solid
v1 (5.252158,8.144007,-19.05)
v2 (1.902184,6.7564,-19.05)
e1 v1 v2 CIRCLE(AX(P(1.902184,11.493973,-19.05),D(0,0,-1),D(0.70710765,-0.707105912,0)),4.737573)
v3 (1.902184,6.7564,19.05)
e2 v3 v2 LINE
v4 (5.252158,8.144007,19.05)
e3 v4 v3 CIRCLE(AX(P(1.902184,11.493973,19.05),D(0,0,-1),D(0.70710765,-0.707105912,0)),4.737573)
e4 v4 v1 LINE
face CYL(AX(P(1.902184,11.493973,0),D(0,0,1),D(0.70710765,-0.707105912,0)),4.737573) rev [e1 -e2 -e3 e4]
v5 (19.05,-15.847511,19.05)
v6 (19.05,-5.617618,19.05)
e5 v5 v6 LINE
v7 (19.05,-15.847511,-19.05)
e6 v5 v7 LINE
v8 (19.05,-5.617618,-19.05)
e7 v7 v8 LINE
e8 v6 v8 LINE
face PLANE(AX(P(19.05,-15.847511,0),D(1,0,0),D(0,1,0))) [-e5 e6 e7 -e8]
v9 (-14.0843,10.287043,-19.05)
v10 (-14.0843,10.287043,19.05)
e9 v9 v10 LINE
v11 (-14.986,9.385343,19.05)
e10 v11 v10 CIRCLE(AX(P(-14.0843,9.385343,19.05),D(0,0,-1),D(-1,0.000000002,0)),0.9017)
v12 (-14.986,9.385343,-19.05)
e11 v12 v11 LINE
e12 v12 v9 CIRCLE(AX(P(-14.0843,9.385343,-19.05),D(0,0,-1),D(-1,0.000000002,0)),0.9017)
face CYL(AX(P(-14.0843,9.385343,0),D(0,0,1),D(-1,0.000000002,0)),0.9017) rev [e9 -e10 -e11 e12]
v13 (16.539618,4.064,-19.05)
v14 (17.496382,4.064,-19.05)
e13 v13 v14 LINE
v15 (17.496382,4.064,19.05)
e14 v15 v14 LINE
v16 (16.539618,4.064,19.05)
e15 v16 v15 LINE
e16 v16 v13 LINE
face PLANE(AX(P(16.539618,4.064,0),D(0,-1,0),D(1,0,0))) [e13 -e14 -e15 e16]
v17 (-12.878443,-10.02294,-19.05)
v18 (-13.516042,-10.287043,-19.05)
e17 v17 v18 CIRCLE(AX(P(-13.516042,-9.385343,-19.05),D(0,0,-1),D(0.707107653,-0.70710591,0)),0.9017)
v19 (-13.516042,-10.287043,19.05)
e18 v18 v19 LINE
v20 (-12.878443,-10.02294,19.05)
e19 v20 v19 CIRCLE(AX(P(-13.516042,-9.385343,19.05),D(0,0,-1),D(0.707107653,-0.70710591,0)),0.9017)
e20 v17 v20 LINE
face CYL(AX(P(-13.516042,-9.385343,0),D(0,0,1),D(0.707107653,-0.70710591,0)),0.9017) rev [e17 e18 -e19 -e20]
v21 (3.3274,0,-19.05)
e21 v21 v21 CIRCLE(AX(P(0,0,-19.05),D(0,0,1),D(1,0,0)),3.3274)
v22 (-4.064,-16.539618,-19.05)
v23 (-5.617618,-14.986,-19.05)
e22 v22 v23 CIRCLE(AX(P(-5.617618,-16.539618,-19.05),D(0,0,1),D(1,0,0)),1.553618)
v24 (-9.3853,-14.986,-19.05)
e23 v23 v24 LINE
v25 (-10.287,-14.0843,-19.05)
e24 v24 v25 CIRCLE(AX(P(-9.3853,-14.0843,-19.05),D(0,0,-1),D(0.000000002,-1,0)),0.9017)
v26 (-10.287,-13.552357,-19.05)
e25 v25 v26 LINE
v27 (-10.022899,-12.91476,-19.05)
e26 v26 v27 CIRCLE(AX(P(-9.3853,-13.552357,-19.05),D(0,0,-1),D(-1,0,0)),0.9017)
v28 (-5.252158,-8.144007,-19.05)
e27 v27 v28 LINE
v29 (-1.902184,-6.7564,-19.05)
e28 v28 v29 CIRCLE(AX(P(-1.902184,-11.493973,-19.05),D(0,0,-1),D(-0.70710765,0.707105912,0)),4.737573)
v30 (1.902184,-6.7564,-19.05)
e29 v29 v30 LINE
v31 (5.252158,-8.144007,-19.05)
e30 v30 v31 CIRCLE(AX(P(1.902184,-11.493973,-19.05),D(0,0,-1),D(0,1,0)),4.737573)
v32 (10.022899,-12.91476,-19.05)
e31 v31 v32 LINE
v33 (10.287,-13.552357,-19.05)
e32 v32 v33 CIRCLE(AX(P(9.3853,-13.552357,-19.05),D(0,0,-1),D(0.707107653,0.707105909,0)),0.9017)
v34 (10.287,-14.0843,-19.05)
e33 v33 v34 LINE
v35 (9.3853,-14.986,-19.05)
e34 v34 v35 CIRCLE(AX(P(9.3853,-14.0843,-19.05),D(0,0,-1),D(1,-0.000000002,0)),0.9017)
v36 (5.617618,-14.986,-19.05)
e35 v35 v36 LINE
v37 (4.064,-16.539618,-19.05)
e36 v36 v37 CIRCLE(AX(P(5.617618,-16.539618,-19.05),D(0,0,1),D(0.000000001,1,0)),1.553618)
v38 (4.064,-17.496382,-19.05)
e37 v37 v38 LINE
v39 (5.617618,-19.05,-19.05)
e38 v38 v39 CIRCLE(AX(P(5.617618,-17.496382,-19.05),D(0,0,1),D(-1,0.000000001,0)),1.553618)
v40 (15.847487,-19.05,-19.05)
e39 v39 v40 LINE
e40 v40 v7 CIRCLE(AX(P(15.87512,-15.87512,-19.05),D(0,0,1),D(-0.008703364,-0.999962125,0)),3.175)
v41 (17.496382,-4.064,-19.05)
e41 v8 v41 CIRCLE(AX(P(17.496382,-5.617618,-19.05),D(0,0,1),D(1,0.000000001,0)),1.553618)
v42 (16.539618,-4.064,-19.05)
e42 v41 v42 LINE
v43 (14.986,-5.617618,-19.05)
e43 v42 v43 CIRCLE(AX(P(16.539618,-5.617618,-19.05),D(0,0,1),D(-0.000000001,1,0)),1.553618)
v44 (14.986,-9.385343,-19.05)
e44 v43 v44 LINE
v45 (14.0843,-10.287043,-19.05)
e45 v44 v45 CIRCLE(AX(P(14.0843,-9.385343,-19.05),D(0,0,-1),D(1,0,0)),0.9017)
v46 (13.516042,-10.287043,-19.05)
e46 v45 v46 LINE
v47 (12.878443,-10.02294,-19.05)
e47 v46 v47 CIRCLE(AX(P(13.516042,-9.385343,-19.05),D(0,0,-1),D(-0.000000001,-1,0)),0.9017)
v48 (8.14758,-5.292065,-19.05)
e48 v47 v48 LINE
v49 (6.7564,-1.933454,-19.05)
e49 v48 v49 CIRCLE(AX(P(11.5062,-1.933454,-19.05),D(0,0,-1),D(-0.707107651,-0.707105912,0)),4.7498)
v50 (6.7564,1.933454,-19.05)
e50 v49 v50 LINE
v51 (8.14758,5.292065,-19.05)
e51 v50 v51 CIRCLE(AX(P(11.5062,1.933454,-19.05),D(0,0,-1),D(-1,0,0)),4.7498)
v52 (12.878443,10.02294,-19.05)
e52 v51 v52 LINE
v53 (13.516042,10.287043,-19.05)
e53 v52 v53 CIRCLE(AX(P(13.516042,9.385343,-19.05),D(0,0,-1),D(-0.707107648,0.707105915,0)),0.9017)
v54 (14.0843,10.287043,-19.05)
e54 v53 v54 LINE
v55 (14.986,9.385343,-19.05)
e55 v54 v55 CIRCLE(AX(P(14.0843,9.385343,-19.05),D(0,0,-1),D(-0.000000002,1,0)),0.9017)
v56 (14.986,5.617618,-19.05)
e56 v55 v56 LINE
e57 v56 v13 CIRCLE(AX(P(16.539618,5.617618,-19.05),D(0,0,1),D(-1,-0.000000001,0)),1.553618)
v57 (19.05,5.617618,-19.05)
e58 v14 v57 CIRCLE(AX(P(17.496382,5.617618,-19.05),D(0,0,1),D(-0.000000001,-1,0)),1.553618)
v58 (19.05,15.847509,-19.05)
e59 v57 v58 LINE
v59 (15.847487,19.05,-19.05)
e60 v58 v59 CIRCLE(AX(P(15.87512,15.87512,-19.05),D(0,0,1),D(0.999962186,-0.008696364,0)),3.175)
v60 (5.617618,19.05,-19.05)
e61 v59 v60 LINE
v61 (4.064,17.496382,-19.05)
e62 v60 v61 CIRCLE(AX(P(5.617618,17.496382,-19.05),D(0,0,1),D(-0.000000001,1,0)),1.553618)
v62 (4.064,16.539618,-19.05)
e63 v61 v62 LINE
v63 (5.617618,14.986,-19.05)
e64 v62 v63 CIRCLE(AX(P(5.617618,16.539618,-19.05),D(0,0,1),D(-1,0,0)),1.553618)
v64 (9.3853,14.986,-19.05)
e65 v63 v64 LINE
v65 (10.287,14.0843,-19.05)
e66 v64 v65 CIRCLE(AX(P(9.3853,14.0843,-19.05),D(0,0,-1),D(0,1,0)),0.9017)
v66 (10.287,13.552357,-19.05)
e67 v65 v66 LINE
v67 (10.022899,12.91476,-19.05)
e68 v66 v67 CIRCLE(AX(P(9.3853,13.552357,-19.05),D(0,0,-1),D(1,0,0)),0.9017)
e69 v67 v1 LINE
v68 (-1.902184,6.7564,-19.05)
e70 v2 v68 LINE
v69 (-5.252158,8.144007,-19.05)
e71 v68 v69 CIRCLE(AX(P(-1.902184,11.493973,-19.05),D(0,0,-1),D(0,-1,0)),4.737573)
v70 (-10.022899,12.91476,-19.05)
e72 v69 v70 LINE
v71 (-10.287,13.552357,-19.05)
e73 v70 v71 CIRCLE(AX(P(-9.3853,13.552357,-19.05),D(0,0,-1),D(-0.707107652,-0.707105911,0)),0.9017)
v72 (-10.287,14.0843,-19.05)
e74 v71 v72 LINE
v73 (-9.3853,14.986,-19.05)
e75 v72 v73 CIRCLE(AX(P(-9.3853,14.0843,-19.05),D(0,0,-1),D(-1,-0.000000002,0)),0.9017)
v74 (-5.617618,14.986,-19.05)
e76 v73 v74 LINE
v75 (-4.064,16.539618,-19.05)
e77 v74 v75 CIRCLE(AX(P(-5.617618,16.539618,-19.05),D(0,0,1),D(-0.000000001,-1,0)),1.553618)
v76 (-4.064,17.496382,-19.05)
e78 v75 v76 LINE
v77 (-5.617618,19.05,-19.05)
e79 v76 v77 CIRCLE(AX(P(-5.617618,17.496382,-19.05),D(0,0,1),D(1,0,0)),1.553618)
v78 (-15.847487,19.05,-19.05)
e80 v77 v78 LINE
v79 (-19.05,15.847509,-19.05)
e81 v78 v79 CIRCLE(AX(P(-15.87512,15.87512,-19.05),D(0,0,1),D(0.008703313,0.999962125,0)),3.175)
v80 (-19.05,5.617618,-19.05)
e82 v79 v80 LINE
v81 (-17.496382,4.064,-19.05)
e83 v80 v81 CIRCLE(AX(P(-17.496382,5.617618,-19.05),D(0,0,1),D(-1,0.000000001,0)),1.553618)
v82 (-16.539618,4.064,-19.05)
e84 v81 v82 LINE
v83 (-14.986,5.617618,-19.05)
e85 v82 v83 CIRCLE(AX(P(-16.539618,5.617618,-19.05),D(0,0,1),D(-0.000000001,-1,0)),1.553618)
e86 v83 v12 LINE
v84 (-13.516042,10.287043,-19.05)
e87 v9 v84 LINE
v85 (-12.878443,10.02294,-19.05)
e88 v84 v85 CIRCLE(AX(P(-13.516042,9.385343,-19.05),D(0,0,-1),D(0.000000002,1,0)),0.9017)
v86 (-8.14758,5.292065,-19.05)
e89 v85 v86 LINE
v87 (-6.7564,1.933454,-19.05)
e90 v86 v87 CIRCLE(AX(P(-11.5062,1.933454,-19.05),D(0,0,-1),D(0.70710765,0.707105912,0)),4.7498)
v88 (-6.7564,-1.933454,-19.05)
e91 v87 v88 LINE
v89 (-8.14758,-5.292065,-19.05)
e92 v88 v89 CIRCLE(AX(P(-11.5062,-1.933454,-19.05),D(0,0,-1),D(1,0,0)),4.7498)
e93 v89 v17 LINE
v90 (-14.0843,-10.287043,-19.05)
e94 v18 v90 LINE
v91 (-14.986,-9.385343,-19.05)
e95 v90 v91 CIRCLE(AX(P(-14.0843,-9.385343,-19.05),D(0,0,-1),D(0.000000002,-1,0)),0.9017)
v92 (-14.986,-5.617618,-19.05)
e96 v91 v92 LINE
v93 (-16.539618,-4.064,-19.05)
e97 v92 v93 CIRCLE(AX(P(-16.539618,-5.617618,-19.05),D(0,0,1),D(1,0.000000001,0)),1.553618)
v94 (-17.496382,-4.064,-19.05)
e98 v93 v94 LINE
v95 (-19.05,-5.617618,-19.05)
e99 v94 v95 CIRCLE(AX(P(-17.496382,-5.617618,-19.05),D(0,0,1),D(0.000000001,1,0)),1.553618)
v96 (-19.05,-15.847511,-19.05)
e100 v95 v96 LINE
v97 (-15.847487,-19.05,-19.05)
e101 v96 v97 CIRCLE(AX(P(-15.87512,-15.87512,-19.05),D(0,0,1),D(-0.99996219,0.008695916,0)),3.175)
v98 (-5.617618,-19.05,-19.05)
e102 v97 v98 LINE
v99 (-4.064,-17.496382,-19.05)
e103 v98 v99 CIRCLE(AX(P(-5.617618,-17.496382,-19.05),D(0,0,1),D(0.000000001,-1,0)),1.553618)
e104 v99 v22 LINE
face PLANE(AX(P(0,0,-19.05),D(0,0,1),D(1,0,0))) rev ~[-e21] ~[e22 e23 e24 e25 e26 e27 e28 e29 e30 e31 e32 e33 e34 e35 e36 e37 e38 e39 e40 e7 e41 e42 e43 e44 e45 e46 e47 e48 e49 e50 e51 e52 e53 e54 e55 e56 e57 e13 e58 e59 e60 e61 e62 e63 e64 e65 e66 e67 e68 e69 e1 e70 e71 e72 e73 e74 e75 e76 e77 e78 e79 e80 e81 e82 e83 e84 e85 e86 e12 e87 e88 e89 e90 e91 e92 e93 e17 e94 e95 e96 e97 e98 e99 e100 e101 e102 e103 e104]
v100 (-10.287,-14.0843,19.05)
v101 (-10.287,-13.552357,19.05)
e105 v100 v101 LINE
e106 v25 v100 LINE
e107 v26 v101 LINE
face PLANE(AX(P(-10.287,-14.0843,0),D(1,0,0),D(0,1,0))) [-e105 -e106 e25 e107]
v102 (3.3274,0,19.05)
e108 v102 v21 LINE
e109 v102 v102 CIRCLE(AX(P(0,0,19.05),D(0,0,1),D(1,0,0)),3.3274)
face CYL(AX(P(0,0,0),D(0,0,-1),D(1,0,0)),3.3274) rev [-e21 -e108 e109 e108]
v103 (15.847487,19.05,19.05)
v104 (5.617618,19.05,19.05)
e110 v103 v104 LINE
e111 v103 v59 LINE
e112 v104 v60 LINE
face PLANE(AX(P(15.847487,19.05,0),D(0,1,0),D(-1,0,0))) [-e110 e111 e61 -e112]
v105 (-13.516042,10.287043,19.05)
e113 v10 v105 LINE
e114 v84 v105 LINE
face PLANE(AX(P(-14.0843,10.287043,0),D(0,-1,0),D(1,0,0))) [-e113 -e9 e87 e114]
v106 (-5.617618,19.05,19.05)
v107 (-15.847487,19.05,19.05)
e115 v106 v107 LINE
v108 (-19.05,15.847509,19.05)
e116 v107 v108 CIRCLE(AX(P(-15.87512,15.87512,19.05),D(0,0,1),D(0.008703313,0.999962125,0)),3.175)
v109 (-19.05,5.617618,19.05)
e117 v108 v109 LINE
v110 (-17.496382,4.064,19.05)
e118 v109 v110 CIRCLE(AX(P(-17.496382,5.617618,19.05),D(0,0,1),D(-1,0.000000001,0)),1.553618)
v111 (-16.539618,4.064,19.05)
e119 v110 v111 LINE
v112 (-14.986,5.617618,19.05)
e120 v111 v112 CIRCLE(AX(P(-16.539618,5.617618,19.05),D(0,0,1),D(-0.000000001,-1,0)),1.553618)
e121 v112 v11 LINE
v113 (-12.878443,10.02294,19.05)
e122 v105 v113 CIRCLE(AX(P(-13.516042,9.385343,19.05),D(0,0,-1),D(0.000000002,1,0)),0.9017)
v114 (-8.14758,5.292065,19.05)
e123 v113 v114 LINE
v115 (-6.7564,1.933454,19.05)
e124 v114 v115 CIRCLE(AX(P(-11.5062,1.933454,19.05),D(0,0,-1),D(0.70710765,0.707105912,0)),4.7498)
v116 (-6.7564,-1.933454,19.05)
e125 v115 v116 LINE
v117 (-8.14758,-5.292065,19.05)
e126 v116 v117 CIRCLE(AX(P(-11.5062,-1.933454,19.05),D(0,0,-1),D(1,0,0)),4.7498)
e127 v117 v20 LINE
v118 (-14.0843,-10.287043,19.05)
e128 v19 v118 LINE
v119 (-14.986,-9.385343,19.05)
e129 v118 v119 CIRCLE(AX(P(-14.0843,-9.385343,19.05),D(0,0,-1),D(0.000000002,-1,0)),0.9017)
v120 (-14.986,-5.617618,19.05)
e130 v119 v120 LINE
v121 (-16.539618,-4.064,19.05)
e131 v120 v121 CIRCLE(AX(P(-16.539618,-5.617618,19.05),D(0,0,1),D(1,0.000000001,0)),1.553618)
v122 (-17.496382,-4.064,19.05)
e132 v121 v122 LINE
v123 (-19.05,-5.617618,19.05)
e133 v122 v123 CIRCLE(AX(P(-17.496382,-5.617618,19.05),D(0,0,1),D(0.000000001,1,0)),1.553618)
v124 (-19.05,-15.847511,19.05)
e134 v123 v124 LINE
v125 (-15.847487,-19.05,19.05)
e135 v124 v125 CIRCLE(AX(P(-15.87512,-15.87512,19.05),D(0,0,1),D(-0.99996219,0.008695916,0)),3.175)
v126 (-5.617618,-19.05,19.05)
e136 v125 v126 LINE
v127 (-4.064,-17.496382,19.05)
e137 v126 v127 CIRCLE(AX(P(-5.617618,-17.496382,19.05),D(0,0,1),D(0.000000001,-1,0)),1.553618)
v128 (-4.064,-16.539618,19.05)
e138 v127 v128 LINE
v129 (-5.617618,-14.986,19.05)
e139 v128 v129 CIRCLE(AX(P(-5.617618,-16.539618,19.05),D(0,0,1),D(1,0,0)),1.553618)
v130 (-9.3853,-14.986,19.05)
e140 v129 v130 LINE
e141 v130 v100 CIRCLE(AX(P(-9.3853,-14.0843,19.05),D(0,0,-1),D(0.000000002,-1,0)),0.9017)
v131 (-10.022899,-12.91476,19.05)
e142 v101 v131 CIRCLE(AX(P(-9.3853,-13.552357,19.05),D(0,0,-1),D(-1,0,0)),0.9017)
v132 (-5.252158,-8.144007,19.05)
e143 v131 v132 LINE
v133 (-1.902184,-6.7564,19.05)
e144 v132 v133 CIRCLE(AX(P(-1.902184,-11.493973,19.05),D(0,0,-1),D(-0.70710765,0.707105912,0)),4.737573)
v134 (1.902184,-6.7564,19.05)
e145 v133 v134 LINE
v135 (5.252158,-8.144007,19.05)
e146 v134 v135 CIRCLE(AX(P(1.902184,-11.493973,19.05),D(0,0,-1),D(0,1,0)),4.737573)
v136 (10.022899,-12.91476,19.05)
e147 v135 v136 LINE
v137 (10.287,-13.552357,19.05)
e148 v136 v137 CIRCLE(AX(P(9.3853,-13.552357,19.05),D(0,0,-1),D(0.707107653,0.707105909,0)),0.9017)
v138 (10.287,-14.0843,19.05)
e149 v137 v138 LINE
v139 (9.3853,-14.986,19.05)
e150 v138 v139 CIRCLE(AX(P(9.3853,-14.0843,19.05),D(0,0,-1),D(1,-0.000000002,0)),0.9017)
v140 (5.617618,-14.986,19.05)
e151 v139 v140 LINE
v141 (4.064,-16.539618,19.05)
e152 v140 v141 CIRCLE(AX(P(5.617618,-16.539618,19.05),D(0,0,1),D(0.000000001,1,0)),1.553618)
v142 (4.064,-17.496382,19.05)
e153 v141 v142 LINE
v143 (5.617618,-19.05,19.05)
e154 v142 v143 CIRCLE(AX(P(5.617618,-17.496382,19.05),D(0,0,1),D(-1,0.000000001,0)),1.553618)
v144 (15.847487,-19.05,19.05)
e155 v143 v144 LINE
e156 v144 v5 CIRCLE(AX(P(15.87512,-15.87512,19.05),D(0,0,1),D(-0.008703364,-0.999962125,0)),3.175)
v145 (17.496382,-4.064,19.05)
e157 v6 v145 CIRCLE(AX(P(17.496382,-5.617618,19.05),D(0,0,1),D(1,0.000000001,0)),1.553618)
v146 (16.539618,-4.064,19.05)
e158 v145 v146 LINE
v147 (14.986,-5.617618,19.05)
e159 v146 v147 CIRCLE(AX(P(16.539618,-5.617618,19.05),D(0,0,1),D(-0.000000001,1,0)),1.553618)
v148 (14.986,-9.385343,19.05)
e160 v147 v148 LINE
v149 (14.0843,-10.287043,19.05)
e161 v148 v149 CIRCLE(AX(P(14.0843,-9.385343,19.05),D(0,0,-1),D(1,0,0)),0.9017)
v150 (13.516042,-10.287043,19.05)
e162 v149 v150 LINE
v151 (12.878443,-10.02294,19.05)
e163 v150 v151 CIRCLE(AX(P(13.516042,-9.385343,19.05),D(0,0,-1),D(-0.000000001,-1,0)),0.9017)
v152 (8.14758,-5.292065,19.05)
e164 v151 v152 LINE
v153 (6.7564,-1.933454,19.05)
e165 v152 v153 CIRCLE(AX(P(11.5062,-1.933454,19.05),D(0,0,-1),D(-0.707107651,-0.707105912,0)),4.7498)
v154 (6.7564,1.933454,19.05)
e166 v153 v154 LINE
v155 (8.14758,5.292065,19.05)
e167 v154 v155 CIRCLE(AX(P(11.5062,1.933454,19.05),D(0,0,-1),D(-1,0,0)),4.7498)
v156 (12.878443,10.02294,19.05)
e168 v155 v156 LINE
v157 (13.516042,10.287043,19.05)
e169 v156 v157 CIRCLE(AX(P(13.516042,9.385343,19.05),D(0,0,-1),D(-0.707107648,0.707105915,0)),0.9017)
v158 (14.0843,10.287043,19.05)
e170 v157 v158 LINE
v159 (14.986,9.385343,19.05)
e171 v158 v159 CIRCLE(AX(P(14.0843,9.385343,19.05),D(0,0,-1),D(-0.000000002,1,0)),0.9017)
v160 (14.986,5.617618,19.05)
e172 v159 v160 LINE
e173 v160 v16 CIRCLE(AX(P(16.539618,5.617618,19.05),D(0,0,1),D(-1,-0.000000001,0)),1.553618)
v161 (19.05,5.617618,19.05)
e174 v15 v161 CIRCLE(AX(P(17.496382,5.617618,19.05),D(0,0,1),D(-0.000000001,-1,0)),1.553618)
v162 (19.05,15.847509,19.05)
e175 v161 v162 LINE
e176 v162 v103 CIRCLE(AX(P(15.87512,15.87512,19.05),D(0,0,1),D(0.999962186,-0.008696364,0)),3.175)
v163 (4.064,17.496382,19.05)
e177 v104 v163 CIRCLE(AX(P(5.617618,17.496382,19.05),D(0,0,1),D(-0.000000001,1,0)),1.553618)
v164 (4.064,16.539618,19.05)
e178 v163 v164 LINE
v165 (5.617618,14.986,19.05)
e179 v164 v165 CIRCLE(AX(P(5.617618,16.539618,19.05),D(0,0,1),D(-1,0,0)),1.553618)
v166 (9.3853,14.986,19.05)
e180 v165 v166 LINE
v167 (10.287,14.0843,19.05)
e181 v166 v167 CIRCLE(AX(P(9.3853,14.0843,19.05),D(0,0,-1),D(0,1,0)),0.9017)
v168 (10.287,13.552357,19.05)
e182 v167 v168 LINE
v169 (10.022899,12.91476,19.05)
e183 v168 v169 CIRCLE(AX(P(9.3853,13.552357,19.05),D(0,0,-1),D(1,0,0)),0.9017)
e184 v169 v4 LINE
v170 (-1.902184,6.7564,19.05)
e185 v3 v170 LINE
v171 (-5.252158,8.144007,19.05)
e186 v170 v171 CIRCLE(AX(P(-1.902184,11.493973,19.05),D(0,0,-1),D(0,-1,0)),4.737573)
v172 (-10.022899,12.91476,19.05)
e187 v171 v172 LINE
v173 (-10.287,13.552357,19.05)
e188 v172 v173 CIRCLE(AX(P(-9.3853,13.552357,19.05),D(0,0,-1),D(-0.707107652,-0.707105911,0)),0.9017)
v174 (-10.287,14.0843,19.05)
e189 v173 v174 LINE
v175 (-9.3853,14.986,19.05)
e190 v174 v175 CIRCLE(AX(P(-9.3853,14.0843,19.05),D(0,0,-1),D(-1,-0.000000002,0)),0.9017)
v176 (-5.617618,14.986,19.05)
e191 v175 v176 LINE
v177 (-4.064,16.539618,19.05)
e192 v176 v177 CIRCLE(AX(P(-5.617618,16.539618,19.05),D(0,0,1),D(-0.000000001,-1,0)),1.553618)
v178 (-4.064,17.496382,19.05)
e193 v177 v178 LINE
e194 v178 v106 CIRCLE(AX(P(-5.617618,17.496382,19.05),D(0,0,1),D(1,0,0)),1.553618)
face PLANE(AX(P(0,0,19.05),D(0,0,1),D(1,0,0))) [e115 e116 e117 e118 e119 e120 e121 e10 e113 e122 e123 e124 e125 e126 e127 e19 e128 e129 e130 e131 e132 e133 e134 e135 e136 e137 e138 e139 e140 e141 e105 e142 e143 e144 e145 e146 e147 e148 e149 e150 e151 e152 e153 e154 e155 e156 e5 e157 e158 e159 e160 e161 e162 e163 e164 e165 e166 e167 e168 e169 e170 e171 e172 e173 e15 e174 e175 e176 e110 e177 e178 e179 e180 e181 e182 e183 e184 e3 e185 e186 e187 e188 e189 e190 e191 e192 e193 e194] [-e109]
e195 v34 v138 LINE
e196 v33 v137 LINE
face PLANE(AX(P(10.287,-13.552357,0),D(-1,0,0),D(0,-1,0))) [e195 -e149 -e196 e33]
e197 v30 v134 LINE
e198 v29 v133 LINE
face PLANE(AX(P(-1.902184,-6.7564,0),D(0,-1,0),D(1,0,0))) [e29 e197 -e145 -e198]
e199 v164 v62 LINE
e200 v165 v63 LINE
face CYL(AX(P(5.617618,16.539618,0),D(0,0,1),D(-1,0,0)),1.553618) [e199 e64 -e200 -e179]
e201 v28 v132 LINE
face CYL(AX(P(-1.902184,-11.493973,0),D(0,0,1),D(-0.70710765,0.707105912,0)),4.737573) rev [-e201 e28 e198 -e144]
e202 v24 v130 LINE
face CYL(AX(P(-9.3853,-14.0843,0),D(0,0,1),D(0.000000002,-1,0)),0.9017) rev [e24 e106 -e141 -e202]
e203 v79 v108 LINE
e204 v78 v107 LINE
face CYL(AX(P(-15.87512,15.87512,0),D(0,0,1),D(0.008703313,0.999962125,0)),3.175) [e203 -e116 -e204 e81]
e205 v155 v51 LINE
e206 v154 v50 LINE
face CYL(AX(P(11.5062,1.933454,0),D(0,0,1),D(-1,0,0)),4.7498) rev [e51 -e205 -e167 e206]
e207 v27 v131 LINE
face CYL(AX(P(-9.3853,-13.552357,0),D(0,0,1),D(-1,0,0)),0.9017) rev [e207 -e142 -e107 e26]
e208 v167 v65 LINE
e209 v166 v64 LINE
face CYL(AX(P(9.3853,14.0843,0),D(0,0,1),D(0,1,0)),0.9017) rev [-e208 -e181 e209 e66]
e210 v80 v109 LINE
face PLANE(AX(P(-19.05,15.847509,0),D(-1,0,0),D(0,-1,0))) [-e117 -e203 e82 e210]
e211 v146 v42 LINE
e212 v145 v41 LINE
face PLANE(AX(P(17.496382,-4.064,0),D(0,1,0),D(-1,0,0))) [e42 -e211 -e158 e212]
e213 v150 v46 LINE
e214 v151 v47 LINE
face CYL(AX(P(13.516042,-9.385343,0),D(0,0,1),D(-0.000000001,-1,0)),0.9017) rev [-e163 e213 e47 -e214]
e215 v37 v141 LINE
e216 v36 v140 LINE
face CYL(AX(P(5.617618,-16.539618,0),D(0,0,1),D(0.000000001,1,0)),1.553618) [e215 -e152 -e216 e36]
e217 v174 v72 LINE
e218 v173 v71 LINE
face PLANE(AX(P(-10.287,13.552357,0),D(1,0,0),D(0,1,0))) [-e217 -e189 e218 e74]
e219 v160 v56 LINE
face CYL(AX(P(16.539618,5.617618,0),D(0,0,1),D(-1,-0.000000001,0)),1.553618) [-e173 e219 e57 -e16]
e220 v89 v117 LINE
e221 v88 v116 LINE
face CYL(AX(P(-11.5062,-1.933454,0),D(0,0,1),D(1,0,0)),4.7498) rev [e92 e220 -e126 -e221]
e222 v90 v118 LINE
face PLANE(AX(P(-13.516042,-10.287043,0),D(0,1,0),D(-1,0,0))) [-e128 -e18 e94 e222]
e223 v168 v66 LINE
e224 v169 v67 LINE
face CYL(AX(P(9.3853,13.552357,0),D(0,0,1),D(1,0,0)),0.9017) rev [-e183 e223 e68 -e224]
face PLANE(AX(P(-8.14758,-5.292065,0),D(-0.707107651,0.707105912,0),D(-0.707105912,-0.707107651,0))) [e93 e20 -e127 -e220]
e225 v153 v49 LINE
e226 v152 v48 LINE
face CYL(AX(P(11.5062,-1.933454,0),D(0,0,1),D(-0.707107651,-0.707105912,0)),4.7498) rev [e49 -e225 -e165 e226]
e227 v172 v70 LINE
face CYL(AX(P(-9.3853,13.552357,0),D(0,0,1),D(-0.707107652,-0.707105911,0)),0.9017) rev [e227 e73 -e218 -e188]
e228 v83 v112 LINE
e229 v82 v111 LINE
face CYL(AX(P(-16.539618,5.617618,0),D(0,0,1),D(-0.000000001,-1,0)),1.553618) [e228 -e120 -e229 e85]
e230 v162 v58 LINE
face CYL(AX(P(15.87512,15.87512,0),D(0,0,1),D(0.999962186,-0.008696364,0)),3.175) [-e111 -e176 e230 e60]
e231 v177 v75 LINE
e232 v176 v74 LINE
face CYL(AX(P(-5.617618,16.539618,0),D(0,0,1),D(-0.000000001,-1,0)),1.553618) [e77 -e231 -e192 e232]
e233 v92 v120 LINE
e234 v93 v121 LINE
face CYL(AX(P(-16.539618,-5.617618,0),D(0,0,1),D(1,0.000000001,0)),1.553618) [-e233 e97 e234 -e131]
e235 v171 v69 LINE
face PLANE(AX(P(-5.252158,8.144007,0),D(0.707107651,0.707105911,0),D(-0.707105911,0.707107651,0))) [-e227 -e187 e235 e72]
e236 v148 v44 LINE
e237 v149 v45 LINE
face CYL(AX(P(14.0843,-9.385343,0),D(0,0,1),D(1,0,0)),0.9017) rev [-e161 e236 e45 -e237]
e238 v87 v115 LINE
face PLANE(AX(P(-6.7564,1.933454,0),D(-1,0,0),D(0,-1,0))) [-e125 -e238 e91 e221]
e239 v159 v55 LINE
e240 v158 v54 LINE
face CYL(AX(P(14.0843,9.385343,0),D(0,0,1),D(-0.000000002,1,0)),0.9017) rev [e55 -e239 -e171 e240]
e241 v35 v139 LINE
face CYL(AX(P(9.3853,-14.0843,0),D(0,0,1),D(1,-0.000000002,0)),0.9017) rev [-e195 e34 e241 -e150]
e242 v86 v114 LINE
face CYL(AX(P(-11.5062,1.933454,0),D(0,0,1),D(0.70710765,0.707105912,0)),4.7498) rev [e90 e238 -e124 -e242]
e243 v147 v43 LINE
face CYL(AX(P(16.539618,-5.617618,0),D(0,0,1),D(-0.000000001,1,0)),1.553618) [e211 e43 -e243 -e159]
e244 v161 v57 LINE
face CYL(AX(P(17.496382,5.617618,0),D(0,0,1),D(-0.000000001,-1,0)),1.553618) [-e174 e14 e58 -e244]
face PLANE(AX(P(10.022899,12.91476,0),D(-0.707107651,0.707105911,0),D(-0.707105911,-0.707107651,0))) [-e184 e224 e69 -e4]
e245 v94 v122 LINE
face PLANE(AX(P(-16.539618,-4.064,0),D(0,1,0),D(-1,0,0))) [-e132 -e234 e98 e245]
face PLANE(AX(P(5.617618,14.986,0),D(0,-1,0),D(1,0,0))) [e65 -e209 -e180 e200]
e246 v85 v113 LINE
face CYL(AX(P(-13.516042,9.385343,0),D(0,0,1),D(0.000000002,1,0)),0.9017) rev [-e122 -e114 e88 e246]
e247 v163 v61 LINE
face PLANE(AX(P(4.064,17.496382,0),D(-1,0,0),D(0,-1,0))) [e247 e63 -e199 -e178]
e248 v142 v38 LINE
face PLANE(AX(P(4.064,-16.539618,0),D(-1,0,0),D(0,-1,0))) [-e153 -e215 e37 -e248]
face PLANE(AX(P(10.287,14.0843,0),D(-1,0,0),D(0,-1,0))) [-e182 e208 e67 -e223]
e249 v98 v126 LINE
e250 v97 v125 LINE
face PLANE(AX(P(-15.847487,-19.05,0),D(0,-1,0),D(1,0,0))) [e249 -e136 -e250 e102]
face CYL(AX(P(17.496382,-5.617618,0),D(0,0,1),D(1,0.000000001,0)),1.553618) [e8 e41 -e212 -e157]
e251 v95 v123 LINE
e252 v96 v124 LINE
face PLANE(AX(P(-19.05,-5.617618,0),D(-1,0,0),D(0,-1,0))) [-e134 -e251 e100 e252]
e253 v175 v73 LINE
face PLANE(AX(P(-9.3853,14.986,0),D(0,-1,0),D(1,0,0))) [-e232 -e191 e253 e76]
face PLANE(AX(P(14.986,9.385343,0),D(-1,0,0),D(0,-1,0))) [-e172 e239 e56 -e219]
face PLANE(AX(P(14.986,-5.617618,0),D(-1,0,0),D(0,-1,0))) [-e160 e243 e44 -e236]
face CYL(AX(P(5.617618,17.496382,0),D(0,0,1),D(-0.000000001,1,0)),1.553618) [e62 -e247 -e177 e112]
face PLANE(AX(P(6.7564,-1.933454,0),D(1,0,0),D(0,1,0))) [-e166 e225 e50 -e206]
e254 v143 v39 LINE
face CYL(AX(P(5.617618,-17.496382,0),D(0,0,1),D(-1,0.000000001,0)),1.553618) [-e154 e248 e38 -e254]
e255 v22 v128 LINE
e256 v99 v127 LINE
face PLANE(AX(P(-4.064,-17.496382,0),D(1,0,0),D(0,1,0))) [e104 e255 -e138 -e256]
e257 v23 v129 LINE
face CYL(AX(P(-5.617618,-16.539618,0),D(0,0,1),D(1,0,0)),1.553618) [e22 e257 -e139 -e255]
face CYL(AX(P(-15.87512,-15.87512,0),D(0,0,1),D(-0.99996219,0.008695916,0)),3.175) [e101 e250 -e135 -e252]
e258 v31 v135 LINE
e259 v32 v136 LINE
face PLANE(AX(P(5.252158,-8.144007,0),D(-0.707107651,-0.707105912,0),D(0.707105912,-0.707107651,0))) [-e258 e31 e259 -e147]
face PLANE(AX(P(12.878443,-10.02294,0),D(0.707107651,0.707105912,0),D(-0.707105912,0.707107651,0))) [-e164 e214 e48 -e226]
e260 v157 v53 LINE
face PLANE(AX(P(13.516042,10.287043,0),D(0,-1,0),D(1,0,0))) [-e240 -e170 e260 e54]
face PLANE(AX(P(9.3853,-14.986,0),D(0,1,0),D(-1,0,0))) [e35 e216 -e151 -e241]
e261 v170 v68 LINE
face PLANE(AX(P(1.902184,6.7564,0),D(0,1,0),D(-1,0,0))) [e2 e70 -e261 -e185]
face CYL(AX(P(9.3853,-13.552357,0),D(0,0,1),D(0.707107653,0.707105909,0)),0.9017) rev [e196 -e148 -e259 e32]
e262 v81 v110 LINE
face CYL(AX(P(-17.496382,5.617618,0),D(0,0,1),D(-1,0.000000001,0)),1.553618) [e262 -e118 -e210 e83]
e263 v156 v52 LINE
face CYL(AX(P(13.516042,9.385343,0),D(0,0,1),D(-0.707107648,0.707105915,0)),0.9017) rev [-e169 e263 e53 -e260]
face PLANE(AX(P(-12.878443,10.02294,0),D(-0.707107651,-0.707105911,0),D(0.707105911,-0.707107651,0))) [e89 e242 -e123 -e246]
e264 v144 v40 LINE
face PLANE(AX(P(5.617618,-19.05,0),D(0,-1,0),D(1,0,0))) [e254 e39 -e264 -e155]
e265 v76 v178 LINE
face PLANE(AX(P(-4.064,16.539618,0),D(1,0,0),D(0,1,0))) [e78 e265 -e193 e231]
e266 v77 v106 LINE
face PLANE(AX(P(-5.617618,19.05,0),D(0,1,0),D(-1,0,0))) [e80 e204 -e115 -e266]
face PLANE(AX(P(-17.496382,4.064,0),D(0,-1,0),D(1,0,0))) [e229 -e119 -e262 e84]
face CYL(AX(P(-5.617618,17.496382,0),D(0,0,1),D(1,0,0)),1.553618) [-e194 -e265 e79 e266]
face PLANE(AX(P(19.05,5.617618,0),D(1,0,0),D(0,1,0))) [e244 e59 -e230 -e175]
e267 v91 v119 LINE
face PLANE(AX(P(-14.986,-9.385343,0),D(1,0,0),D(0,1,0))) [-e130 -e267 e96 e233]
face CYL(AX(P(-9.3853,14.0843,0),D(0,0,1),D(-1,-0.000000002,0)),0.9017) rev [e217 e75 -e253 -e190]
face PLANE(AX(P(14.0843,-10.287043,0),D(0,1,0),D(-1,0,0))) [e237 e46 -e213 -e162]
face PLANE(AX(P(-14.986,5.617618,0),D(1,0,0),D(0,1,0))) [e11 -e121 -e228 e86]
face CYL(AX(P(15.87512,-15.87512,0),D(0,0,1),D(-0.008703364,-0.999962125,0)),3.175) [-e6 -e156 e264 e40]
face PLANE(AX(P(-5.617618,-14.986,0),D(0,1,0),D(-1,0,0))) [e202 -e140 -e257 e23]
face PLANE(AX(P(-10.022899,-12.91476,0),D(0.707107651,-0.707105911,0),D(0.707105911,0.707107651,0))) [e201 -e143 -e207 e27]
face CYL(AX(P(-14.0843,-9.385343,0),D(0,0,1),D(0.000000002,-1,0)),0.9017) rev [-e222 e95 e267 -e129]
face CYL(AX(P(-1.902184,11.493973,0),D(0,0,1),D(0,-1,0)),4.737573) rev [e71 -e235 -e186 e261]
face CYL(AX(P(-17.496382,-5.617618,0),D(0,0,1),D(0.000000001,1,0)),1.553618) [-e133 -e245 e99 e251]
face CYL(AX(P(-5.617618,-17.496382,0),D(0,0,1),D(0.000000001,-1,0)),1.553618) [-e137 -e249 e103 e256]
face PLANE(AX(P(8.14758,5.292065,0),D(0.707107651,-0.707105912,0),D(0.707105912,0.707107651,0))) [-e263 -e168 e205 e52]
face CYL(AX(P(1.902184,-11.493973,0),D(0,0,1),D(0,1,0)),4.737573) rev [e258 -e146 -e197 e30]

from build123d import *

# Parameters (mm, degrees)
SKETCH1_R           = 3.3274
BOSS_EXTRUDE1_DEPTH = 19.05


with BuildPart() as part:
    # Sketch1 → Boss-Extrude1 (new body, symmetric)
    with BuildSketch(Plane.XY):
        with BuildLine():
            Line((-4.064, 16.539617552), (-4.064, 17.496382454))
            ThreePointArc((-4.064, 17.496382454), (-4.519044044, 18.594955958), (-5.617617547, 19.050000004))
            Line((-5.617617547, 19.050000004), (-15.84748704, 19.050000004))
            ThreePointArc((-15.84748704, 19.050000004), (-18.12017629, 18.120192086), (-19.050000001, 15.847509297))
            Line((-19.050000001, 15.847509297), (-19.050000001, 5.617617549))
            ThreePointArc((-19.050000001, 5.617617549), (-18.594955957, 4.519044045), (-17.496382454, 4.064))
            Line((-17.496382454, 4.064), (-16.539617549, 4.064))
            ThreePointArc((-16.539617549, 4.064), (-15.441044044, 4.519044045), (-14.986, 5.617617549))
            Line((-14.986, 5.617617549), (-14.986, 9.385342517))
            ThreePointArc((-14.986, 9.385342517), (-14.721898184, 10.022940701), (-14.0843, 10.287042517))
            Line((-14.0843, 10.287042517), (-13.516042086, 10.287042517))
            ThreePointArc((-13.516042086, 10.287042517), (-13.170975923, 10.218404479), (-12.878443117, 10.022939917))
            Line((-12.878443117, 10.022939917), (-8.14758008, 5.292065242))
            ThreePointArc((-8.14758008, 5.292065242), (-7.117955877, 3.751120652), (-6.756399998, 1.933453582))
            Line((-6.756399998, 1.933453582), (-6.756399998, -1.933453584))
            ThreePointArc((-6.756399998, -1.933453584), (-7.117955877, -3.751120652), (-8.147580078, -5.292065242))
            Line((-8.147580078, -5.292065242), (-12.878443116, -10.022939917))
            ThreePointArc((-12.878443116, -10.022939917), (-13.170975922, -10.21840448), (-13.516042086, -10.287042518))
            Line((-13.516042086, -10.287042518), (-14.0843, -10.287042518))
            ThreePointArc((-14.0843, -10.287042518), (-14.721898185, -10.022940703), (-14.986, -9.385342518))
            Line((-14.986, -9.385342518), (-14.986, -5.617617549))
            ThreePointArc((-14.986, -5.617617549), (-15.441044044, -4.519044046), (-16.539617547, -4.064))
            Line((-16.539617547, -4.064), (-17.496382452, -4.064))
            ThreePointArc((-17.496382452, -4.064), (-18.594955956, -4.519044044), (-19.050000001, -5.617617547))
            Line((-19.050000001, -5.617617547), (-19.050000001, -15.84751072))
            ThreePointArc((-19.050000001, -15.84751072), (-18.120175718, -18.120192644), (-15.84748687, -19.050000001))
            Line((-15.84748687, -19.050000001), (-5.617617549, -19.050000001))
            ThreePointArc((-5.617617549, -19.050000001), (-4.519044046, -18.594955957), (-4.064, -17.496382454))
            Line((-4.064, -17.496382454), (-4.064, -16.539617549))
            ThreePointArc((-4.064, -16.539617549), (-4.519044045, -15.441044044), (-5.617617549, -14.985999999))
            Line((-5.617617549, -14.985999999), (-9.3853, -14.985999999))
            ThreePointArc((-9.3853, -14.985999999), (-10.022898185, -14.721898184), (-10.287, -14.084299999))
            Line((-10.287, -14.084299999), (-10.287, -13.552357131))
            ThreePointArc((-10.287, -13.552357131), (-10.218362387, -13.207291993), (-10.022898969, -12.914759731))
            Line((-10.022898969, -12.914759731), (-5.252158104, -8.14400713))
            ThreePointArc((-5.252158104, -8.14400713), (-3.715177371, -7.117027388), (-1.902183976, -6.7564))
            Line((-1.902183976, -6.7564), (1.902183976, -6.7564))
            ThreePointArc((1.902183976, -6.7564), (3.715177372, -7.117027388), (5.252158106, -8.144007132))
            Line((5.252158106, -8.144007132), (10.022898969, -12.91475973))
            ThreePointArc((10.022898969, -12.91475973), (10.218362387, -13.207291993), (10.287000001, -13.552357132))
            Line((10.287000001, -13.552357132), (10.287000001, -14.0843))
            ThreePointArc((10.287000001, -14.0843), (10.022898185, -14.721898184), (9.385300001, -14.986))
            Line((9.385300001, -14.986), (5.617617549, -14.986))
            ThreePointArc((5.617617549, -14.986), (4.519044045, -15.441044044), (4.064, -16.539617547))
            Line((4.064, -16.539617547), (4.064, -17.496382452))
            ThreePointArc((4.064, -17.496382452), (4.519044043, -18.594955955), (5.617617546, -19.050000001))
            Line((5.617617546, -19.050000001), (15.847486867, -19.050000001))
            ThreePointArc((15.847486867, -19.050000001), (18.120175716, -18.120192646), (19.05, -15.847510723))
            Line((19.05, -15.847510723), (19.05, -5.617617549))
            ThreePointArc((19.05, -5.617617549), (18.594955955, -4.519044045), (17.496382451, -4.064))
            Line((17.496382451, -4.064), (16.539617548, -4.064))
            ThreePointArc((16.539617548, -4.064), (15.441044044, -4.519044045), (14.985999999, -5.617617549))
            Line((14.985999999, -5.617617549), (14.985999999, -9.385342517))
            ThreePointArc((14.985999999, -9.385342517), (14.721898184, -10.022940701), (14.084299999, -10.287042517))
            Line((14.084299999, -10.287042517), (13.516042085, -10.287042517))
            ThreePointArc((13.516042085, -10.287042517), (13.170975922, -10.218404479), (12.878443117, -10.022939917))
            Line((12.878443117, -10.022939917), (8.147580079, -5.292065242))
            ThreePointArc((8.147580079, -5.292065242), (7.117955877, -3.751120652), (6.756399998, -1.933453583))
            Line((6.756399998, -1.933453583), (6.756399998, 1.933453583))
            ThreePointArc((6.756399998, 1.933453583), (7.117955877, 3.751120652), (8.147580078, 5.292065242))
            Line((8.147580078, 5.292065242), (12.878443116, 10.022939916))
            ThreePointArc((12.878443116, 10.022939916), (13.170975922, 10.218404477), (13.516042084, 10.287042515))
            Line((13.516042084, 10.287042515), (14.084299998, 10.287042515))
            ThreePointArc((14.084299998, 10.287042515), (14.721898183, 10.0229407), (14.985999998, 9.385342515))
            Line((14.985999998, 9.385342515), (14.985999998, 5.617617546))
            ThreePointArc((14.985999998, 5.617617546), (15.441044043, 4.519044042), (16.539617547, 4.063999997))
            Line((16.539617547, 4.063999997), (17.49638245, 4.063999997))
            ThreePointArc((17.49638245, 4.063999997), (18.594955956, 4.519044042), (19.05, 5.617617548))
            Line((19.05, 5.617617548), (19.05, 15.8475093))
            ThreePointArc((19.05, 15.8475093), (18.120176289, 18.120192086), (15.847487041, 19.050000004))
            Line((15.847487041, 19.050000004), (5.617617548, 19.050000004))
            ThreePointArc((5.617617548, 19.050000004), (4.519044044, 18.594955959), (4.063999999, 17.496382454))
            Line((4.063999999, 17.496382454), (4.063999999, 16.539617552))
            ThreePointArc((4.063999999, 16.539617552), (4.519044044, 15.441044047), (5.617617548, 14.986000002))
            Line((5.617617548, 14.986000002), (9.385299999, 14.986000002))
            ThreePointArc((9.385299999, 14.986000002), (10.022898183, 14.721898187), (10.286999999, 14.084300002))
            Line((10.286999999, 14.084300002), (10.286999999, 13.552357134))
            ThreePointArc((10.286999999, 13.552357134), (10.218362386, 13.207291996), (10.022898968, 12.914759734))
            Line((10.022898968, 12.914759734), (5.252158103, 8.144007133))
            ThreePointArc((5.252158103, 8.144007133), (3.71517737, 7.117027391), (1.902183975, 6.756400003))
            Line((1.902183975, 6.756400003), (-1.902183977, 6.756400003))
            ThreePointArc((-1.902183977, 6.756400003), (-3.715177373, 7.117027391), (-5.252158106, 8.144007134))
            Line((-5.252158106, 8.144007134), (-10.022898969, 12.914759733))
            ThreePointArc((-10.022898969, 12.914759733), (-10.218362387, 13.207291995), (-10.287000001, 13.552357134))
            Line((-10.287000001, 13.552357134), (-10.287000001, 14.084300002))
            ThreePointArc((-10.287000001, 14.084300002), (-10.022898186, 14.721898187), (-9.385300001, 14.986000002))
            Line((-9.385300001, 14.986000002), (-5.617617549, 14.986000002))
            ThreePointArc((-5.617617549, 14.986000002), (-4.519044044, 15.441044047), (-4.064, 16.539617552))
        make_face()
        Circle(SKETCH1_R, mode=Mode.SUBTRACT)
    extrude(amount=BOSS_EXTRUDE1_DEPTH, both=True)


solid = part.part
